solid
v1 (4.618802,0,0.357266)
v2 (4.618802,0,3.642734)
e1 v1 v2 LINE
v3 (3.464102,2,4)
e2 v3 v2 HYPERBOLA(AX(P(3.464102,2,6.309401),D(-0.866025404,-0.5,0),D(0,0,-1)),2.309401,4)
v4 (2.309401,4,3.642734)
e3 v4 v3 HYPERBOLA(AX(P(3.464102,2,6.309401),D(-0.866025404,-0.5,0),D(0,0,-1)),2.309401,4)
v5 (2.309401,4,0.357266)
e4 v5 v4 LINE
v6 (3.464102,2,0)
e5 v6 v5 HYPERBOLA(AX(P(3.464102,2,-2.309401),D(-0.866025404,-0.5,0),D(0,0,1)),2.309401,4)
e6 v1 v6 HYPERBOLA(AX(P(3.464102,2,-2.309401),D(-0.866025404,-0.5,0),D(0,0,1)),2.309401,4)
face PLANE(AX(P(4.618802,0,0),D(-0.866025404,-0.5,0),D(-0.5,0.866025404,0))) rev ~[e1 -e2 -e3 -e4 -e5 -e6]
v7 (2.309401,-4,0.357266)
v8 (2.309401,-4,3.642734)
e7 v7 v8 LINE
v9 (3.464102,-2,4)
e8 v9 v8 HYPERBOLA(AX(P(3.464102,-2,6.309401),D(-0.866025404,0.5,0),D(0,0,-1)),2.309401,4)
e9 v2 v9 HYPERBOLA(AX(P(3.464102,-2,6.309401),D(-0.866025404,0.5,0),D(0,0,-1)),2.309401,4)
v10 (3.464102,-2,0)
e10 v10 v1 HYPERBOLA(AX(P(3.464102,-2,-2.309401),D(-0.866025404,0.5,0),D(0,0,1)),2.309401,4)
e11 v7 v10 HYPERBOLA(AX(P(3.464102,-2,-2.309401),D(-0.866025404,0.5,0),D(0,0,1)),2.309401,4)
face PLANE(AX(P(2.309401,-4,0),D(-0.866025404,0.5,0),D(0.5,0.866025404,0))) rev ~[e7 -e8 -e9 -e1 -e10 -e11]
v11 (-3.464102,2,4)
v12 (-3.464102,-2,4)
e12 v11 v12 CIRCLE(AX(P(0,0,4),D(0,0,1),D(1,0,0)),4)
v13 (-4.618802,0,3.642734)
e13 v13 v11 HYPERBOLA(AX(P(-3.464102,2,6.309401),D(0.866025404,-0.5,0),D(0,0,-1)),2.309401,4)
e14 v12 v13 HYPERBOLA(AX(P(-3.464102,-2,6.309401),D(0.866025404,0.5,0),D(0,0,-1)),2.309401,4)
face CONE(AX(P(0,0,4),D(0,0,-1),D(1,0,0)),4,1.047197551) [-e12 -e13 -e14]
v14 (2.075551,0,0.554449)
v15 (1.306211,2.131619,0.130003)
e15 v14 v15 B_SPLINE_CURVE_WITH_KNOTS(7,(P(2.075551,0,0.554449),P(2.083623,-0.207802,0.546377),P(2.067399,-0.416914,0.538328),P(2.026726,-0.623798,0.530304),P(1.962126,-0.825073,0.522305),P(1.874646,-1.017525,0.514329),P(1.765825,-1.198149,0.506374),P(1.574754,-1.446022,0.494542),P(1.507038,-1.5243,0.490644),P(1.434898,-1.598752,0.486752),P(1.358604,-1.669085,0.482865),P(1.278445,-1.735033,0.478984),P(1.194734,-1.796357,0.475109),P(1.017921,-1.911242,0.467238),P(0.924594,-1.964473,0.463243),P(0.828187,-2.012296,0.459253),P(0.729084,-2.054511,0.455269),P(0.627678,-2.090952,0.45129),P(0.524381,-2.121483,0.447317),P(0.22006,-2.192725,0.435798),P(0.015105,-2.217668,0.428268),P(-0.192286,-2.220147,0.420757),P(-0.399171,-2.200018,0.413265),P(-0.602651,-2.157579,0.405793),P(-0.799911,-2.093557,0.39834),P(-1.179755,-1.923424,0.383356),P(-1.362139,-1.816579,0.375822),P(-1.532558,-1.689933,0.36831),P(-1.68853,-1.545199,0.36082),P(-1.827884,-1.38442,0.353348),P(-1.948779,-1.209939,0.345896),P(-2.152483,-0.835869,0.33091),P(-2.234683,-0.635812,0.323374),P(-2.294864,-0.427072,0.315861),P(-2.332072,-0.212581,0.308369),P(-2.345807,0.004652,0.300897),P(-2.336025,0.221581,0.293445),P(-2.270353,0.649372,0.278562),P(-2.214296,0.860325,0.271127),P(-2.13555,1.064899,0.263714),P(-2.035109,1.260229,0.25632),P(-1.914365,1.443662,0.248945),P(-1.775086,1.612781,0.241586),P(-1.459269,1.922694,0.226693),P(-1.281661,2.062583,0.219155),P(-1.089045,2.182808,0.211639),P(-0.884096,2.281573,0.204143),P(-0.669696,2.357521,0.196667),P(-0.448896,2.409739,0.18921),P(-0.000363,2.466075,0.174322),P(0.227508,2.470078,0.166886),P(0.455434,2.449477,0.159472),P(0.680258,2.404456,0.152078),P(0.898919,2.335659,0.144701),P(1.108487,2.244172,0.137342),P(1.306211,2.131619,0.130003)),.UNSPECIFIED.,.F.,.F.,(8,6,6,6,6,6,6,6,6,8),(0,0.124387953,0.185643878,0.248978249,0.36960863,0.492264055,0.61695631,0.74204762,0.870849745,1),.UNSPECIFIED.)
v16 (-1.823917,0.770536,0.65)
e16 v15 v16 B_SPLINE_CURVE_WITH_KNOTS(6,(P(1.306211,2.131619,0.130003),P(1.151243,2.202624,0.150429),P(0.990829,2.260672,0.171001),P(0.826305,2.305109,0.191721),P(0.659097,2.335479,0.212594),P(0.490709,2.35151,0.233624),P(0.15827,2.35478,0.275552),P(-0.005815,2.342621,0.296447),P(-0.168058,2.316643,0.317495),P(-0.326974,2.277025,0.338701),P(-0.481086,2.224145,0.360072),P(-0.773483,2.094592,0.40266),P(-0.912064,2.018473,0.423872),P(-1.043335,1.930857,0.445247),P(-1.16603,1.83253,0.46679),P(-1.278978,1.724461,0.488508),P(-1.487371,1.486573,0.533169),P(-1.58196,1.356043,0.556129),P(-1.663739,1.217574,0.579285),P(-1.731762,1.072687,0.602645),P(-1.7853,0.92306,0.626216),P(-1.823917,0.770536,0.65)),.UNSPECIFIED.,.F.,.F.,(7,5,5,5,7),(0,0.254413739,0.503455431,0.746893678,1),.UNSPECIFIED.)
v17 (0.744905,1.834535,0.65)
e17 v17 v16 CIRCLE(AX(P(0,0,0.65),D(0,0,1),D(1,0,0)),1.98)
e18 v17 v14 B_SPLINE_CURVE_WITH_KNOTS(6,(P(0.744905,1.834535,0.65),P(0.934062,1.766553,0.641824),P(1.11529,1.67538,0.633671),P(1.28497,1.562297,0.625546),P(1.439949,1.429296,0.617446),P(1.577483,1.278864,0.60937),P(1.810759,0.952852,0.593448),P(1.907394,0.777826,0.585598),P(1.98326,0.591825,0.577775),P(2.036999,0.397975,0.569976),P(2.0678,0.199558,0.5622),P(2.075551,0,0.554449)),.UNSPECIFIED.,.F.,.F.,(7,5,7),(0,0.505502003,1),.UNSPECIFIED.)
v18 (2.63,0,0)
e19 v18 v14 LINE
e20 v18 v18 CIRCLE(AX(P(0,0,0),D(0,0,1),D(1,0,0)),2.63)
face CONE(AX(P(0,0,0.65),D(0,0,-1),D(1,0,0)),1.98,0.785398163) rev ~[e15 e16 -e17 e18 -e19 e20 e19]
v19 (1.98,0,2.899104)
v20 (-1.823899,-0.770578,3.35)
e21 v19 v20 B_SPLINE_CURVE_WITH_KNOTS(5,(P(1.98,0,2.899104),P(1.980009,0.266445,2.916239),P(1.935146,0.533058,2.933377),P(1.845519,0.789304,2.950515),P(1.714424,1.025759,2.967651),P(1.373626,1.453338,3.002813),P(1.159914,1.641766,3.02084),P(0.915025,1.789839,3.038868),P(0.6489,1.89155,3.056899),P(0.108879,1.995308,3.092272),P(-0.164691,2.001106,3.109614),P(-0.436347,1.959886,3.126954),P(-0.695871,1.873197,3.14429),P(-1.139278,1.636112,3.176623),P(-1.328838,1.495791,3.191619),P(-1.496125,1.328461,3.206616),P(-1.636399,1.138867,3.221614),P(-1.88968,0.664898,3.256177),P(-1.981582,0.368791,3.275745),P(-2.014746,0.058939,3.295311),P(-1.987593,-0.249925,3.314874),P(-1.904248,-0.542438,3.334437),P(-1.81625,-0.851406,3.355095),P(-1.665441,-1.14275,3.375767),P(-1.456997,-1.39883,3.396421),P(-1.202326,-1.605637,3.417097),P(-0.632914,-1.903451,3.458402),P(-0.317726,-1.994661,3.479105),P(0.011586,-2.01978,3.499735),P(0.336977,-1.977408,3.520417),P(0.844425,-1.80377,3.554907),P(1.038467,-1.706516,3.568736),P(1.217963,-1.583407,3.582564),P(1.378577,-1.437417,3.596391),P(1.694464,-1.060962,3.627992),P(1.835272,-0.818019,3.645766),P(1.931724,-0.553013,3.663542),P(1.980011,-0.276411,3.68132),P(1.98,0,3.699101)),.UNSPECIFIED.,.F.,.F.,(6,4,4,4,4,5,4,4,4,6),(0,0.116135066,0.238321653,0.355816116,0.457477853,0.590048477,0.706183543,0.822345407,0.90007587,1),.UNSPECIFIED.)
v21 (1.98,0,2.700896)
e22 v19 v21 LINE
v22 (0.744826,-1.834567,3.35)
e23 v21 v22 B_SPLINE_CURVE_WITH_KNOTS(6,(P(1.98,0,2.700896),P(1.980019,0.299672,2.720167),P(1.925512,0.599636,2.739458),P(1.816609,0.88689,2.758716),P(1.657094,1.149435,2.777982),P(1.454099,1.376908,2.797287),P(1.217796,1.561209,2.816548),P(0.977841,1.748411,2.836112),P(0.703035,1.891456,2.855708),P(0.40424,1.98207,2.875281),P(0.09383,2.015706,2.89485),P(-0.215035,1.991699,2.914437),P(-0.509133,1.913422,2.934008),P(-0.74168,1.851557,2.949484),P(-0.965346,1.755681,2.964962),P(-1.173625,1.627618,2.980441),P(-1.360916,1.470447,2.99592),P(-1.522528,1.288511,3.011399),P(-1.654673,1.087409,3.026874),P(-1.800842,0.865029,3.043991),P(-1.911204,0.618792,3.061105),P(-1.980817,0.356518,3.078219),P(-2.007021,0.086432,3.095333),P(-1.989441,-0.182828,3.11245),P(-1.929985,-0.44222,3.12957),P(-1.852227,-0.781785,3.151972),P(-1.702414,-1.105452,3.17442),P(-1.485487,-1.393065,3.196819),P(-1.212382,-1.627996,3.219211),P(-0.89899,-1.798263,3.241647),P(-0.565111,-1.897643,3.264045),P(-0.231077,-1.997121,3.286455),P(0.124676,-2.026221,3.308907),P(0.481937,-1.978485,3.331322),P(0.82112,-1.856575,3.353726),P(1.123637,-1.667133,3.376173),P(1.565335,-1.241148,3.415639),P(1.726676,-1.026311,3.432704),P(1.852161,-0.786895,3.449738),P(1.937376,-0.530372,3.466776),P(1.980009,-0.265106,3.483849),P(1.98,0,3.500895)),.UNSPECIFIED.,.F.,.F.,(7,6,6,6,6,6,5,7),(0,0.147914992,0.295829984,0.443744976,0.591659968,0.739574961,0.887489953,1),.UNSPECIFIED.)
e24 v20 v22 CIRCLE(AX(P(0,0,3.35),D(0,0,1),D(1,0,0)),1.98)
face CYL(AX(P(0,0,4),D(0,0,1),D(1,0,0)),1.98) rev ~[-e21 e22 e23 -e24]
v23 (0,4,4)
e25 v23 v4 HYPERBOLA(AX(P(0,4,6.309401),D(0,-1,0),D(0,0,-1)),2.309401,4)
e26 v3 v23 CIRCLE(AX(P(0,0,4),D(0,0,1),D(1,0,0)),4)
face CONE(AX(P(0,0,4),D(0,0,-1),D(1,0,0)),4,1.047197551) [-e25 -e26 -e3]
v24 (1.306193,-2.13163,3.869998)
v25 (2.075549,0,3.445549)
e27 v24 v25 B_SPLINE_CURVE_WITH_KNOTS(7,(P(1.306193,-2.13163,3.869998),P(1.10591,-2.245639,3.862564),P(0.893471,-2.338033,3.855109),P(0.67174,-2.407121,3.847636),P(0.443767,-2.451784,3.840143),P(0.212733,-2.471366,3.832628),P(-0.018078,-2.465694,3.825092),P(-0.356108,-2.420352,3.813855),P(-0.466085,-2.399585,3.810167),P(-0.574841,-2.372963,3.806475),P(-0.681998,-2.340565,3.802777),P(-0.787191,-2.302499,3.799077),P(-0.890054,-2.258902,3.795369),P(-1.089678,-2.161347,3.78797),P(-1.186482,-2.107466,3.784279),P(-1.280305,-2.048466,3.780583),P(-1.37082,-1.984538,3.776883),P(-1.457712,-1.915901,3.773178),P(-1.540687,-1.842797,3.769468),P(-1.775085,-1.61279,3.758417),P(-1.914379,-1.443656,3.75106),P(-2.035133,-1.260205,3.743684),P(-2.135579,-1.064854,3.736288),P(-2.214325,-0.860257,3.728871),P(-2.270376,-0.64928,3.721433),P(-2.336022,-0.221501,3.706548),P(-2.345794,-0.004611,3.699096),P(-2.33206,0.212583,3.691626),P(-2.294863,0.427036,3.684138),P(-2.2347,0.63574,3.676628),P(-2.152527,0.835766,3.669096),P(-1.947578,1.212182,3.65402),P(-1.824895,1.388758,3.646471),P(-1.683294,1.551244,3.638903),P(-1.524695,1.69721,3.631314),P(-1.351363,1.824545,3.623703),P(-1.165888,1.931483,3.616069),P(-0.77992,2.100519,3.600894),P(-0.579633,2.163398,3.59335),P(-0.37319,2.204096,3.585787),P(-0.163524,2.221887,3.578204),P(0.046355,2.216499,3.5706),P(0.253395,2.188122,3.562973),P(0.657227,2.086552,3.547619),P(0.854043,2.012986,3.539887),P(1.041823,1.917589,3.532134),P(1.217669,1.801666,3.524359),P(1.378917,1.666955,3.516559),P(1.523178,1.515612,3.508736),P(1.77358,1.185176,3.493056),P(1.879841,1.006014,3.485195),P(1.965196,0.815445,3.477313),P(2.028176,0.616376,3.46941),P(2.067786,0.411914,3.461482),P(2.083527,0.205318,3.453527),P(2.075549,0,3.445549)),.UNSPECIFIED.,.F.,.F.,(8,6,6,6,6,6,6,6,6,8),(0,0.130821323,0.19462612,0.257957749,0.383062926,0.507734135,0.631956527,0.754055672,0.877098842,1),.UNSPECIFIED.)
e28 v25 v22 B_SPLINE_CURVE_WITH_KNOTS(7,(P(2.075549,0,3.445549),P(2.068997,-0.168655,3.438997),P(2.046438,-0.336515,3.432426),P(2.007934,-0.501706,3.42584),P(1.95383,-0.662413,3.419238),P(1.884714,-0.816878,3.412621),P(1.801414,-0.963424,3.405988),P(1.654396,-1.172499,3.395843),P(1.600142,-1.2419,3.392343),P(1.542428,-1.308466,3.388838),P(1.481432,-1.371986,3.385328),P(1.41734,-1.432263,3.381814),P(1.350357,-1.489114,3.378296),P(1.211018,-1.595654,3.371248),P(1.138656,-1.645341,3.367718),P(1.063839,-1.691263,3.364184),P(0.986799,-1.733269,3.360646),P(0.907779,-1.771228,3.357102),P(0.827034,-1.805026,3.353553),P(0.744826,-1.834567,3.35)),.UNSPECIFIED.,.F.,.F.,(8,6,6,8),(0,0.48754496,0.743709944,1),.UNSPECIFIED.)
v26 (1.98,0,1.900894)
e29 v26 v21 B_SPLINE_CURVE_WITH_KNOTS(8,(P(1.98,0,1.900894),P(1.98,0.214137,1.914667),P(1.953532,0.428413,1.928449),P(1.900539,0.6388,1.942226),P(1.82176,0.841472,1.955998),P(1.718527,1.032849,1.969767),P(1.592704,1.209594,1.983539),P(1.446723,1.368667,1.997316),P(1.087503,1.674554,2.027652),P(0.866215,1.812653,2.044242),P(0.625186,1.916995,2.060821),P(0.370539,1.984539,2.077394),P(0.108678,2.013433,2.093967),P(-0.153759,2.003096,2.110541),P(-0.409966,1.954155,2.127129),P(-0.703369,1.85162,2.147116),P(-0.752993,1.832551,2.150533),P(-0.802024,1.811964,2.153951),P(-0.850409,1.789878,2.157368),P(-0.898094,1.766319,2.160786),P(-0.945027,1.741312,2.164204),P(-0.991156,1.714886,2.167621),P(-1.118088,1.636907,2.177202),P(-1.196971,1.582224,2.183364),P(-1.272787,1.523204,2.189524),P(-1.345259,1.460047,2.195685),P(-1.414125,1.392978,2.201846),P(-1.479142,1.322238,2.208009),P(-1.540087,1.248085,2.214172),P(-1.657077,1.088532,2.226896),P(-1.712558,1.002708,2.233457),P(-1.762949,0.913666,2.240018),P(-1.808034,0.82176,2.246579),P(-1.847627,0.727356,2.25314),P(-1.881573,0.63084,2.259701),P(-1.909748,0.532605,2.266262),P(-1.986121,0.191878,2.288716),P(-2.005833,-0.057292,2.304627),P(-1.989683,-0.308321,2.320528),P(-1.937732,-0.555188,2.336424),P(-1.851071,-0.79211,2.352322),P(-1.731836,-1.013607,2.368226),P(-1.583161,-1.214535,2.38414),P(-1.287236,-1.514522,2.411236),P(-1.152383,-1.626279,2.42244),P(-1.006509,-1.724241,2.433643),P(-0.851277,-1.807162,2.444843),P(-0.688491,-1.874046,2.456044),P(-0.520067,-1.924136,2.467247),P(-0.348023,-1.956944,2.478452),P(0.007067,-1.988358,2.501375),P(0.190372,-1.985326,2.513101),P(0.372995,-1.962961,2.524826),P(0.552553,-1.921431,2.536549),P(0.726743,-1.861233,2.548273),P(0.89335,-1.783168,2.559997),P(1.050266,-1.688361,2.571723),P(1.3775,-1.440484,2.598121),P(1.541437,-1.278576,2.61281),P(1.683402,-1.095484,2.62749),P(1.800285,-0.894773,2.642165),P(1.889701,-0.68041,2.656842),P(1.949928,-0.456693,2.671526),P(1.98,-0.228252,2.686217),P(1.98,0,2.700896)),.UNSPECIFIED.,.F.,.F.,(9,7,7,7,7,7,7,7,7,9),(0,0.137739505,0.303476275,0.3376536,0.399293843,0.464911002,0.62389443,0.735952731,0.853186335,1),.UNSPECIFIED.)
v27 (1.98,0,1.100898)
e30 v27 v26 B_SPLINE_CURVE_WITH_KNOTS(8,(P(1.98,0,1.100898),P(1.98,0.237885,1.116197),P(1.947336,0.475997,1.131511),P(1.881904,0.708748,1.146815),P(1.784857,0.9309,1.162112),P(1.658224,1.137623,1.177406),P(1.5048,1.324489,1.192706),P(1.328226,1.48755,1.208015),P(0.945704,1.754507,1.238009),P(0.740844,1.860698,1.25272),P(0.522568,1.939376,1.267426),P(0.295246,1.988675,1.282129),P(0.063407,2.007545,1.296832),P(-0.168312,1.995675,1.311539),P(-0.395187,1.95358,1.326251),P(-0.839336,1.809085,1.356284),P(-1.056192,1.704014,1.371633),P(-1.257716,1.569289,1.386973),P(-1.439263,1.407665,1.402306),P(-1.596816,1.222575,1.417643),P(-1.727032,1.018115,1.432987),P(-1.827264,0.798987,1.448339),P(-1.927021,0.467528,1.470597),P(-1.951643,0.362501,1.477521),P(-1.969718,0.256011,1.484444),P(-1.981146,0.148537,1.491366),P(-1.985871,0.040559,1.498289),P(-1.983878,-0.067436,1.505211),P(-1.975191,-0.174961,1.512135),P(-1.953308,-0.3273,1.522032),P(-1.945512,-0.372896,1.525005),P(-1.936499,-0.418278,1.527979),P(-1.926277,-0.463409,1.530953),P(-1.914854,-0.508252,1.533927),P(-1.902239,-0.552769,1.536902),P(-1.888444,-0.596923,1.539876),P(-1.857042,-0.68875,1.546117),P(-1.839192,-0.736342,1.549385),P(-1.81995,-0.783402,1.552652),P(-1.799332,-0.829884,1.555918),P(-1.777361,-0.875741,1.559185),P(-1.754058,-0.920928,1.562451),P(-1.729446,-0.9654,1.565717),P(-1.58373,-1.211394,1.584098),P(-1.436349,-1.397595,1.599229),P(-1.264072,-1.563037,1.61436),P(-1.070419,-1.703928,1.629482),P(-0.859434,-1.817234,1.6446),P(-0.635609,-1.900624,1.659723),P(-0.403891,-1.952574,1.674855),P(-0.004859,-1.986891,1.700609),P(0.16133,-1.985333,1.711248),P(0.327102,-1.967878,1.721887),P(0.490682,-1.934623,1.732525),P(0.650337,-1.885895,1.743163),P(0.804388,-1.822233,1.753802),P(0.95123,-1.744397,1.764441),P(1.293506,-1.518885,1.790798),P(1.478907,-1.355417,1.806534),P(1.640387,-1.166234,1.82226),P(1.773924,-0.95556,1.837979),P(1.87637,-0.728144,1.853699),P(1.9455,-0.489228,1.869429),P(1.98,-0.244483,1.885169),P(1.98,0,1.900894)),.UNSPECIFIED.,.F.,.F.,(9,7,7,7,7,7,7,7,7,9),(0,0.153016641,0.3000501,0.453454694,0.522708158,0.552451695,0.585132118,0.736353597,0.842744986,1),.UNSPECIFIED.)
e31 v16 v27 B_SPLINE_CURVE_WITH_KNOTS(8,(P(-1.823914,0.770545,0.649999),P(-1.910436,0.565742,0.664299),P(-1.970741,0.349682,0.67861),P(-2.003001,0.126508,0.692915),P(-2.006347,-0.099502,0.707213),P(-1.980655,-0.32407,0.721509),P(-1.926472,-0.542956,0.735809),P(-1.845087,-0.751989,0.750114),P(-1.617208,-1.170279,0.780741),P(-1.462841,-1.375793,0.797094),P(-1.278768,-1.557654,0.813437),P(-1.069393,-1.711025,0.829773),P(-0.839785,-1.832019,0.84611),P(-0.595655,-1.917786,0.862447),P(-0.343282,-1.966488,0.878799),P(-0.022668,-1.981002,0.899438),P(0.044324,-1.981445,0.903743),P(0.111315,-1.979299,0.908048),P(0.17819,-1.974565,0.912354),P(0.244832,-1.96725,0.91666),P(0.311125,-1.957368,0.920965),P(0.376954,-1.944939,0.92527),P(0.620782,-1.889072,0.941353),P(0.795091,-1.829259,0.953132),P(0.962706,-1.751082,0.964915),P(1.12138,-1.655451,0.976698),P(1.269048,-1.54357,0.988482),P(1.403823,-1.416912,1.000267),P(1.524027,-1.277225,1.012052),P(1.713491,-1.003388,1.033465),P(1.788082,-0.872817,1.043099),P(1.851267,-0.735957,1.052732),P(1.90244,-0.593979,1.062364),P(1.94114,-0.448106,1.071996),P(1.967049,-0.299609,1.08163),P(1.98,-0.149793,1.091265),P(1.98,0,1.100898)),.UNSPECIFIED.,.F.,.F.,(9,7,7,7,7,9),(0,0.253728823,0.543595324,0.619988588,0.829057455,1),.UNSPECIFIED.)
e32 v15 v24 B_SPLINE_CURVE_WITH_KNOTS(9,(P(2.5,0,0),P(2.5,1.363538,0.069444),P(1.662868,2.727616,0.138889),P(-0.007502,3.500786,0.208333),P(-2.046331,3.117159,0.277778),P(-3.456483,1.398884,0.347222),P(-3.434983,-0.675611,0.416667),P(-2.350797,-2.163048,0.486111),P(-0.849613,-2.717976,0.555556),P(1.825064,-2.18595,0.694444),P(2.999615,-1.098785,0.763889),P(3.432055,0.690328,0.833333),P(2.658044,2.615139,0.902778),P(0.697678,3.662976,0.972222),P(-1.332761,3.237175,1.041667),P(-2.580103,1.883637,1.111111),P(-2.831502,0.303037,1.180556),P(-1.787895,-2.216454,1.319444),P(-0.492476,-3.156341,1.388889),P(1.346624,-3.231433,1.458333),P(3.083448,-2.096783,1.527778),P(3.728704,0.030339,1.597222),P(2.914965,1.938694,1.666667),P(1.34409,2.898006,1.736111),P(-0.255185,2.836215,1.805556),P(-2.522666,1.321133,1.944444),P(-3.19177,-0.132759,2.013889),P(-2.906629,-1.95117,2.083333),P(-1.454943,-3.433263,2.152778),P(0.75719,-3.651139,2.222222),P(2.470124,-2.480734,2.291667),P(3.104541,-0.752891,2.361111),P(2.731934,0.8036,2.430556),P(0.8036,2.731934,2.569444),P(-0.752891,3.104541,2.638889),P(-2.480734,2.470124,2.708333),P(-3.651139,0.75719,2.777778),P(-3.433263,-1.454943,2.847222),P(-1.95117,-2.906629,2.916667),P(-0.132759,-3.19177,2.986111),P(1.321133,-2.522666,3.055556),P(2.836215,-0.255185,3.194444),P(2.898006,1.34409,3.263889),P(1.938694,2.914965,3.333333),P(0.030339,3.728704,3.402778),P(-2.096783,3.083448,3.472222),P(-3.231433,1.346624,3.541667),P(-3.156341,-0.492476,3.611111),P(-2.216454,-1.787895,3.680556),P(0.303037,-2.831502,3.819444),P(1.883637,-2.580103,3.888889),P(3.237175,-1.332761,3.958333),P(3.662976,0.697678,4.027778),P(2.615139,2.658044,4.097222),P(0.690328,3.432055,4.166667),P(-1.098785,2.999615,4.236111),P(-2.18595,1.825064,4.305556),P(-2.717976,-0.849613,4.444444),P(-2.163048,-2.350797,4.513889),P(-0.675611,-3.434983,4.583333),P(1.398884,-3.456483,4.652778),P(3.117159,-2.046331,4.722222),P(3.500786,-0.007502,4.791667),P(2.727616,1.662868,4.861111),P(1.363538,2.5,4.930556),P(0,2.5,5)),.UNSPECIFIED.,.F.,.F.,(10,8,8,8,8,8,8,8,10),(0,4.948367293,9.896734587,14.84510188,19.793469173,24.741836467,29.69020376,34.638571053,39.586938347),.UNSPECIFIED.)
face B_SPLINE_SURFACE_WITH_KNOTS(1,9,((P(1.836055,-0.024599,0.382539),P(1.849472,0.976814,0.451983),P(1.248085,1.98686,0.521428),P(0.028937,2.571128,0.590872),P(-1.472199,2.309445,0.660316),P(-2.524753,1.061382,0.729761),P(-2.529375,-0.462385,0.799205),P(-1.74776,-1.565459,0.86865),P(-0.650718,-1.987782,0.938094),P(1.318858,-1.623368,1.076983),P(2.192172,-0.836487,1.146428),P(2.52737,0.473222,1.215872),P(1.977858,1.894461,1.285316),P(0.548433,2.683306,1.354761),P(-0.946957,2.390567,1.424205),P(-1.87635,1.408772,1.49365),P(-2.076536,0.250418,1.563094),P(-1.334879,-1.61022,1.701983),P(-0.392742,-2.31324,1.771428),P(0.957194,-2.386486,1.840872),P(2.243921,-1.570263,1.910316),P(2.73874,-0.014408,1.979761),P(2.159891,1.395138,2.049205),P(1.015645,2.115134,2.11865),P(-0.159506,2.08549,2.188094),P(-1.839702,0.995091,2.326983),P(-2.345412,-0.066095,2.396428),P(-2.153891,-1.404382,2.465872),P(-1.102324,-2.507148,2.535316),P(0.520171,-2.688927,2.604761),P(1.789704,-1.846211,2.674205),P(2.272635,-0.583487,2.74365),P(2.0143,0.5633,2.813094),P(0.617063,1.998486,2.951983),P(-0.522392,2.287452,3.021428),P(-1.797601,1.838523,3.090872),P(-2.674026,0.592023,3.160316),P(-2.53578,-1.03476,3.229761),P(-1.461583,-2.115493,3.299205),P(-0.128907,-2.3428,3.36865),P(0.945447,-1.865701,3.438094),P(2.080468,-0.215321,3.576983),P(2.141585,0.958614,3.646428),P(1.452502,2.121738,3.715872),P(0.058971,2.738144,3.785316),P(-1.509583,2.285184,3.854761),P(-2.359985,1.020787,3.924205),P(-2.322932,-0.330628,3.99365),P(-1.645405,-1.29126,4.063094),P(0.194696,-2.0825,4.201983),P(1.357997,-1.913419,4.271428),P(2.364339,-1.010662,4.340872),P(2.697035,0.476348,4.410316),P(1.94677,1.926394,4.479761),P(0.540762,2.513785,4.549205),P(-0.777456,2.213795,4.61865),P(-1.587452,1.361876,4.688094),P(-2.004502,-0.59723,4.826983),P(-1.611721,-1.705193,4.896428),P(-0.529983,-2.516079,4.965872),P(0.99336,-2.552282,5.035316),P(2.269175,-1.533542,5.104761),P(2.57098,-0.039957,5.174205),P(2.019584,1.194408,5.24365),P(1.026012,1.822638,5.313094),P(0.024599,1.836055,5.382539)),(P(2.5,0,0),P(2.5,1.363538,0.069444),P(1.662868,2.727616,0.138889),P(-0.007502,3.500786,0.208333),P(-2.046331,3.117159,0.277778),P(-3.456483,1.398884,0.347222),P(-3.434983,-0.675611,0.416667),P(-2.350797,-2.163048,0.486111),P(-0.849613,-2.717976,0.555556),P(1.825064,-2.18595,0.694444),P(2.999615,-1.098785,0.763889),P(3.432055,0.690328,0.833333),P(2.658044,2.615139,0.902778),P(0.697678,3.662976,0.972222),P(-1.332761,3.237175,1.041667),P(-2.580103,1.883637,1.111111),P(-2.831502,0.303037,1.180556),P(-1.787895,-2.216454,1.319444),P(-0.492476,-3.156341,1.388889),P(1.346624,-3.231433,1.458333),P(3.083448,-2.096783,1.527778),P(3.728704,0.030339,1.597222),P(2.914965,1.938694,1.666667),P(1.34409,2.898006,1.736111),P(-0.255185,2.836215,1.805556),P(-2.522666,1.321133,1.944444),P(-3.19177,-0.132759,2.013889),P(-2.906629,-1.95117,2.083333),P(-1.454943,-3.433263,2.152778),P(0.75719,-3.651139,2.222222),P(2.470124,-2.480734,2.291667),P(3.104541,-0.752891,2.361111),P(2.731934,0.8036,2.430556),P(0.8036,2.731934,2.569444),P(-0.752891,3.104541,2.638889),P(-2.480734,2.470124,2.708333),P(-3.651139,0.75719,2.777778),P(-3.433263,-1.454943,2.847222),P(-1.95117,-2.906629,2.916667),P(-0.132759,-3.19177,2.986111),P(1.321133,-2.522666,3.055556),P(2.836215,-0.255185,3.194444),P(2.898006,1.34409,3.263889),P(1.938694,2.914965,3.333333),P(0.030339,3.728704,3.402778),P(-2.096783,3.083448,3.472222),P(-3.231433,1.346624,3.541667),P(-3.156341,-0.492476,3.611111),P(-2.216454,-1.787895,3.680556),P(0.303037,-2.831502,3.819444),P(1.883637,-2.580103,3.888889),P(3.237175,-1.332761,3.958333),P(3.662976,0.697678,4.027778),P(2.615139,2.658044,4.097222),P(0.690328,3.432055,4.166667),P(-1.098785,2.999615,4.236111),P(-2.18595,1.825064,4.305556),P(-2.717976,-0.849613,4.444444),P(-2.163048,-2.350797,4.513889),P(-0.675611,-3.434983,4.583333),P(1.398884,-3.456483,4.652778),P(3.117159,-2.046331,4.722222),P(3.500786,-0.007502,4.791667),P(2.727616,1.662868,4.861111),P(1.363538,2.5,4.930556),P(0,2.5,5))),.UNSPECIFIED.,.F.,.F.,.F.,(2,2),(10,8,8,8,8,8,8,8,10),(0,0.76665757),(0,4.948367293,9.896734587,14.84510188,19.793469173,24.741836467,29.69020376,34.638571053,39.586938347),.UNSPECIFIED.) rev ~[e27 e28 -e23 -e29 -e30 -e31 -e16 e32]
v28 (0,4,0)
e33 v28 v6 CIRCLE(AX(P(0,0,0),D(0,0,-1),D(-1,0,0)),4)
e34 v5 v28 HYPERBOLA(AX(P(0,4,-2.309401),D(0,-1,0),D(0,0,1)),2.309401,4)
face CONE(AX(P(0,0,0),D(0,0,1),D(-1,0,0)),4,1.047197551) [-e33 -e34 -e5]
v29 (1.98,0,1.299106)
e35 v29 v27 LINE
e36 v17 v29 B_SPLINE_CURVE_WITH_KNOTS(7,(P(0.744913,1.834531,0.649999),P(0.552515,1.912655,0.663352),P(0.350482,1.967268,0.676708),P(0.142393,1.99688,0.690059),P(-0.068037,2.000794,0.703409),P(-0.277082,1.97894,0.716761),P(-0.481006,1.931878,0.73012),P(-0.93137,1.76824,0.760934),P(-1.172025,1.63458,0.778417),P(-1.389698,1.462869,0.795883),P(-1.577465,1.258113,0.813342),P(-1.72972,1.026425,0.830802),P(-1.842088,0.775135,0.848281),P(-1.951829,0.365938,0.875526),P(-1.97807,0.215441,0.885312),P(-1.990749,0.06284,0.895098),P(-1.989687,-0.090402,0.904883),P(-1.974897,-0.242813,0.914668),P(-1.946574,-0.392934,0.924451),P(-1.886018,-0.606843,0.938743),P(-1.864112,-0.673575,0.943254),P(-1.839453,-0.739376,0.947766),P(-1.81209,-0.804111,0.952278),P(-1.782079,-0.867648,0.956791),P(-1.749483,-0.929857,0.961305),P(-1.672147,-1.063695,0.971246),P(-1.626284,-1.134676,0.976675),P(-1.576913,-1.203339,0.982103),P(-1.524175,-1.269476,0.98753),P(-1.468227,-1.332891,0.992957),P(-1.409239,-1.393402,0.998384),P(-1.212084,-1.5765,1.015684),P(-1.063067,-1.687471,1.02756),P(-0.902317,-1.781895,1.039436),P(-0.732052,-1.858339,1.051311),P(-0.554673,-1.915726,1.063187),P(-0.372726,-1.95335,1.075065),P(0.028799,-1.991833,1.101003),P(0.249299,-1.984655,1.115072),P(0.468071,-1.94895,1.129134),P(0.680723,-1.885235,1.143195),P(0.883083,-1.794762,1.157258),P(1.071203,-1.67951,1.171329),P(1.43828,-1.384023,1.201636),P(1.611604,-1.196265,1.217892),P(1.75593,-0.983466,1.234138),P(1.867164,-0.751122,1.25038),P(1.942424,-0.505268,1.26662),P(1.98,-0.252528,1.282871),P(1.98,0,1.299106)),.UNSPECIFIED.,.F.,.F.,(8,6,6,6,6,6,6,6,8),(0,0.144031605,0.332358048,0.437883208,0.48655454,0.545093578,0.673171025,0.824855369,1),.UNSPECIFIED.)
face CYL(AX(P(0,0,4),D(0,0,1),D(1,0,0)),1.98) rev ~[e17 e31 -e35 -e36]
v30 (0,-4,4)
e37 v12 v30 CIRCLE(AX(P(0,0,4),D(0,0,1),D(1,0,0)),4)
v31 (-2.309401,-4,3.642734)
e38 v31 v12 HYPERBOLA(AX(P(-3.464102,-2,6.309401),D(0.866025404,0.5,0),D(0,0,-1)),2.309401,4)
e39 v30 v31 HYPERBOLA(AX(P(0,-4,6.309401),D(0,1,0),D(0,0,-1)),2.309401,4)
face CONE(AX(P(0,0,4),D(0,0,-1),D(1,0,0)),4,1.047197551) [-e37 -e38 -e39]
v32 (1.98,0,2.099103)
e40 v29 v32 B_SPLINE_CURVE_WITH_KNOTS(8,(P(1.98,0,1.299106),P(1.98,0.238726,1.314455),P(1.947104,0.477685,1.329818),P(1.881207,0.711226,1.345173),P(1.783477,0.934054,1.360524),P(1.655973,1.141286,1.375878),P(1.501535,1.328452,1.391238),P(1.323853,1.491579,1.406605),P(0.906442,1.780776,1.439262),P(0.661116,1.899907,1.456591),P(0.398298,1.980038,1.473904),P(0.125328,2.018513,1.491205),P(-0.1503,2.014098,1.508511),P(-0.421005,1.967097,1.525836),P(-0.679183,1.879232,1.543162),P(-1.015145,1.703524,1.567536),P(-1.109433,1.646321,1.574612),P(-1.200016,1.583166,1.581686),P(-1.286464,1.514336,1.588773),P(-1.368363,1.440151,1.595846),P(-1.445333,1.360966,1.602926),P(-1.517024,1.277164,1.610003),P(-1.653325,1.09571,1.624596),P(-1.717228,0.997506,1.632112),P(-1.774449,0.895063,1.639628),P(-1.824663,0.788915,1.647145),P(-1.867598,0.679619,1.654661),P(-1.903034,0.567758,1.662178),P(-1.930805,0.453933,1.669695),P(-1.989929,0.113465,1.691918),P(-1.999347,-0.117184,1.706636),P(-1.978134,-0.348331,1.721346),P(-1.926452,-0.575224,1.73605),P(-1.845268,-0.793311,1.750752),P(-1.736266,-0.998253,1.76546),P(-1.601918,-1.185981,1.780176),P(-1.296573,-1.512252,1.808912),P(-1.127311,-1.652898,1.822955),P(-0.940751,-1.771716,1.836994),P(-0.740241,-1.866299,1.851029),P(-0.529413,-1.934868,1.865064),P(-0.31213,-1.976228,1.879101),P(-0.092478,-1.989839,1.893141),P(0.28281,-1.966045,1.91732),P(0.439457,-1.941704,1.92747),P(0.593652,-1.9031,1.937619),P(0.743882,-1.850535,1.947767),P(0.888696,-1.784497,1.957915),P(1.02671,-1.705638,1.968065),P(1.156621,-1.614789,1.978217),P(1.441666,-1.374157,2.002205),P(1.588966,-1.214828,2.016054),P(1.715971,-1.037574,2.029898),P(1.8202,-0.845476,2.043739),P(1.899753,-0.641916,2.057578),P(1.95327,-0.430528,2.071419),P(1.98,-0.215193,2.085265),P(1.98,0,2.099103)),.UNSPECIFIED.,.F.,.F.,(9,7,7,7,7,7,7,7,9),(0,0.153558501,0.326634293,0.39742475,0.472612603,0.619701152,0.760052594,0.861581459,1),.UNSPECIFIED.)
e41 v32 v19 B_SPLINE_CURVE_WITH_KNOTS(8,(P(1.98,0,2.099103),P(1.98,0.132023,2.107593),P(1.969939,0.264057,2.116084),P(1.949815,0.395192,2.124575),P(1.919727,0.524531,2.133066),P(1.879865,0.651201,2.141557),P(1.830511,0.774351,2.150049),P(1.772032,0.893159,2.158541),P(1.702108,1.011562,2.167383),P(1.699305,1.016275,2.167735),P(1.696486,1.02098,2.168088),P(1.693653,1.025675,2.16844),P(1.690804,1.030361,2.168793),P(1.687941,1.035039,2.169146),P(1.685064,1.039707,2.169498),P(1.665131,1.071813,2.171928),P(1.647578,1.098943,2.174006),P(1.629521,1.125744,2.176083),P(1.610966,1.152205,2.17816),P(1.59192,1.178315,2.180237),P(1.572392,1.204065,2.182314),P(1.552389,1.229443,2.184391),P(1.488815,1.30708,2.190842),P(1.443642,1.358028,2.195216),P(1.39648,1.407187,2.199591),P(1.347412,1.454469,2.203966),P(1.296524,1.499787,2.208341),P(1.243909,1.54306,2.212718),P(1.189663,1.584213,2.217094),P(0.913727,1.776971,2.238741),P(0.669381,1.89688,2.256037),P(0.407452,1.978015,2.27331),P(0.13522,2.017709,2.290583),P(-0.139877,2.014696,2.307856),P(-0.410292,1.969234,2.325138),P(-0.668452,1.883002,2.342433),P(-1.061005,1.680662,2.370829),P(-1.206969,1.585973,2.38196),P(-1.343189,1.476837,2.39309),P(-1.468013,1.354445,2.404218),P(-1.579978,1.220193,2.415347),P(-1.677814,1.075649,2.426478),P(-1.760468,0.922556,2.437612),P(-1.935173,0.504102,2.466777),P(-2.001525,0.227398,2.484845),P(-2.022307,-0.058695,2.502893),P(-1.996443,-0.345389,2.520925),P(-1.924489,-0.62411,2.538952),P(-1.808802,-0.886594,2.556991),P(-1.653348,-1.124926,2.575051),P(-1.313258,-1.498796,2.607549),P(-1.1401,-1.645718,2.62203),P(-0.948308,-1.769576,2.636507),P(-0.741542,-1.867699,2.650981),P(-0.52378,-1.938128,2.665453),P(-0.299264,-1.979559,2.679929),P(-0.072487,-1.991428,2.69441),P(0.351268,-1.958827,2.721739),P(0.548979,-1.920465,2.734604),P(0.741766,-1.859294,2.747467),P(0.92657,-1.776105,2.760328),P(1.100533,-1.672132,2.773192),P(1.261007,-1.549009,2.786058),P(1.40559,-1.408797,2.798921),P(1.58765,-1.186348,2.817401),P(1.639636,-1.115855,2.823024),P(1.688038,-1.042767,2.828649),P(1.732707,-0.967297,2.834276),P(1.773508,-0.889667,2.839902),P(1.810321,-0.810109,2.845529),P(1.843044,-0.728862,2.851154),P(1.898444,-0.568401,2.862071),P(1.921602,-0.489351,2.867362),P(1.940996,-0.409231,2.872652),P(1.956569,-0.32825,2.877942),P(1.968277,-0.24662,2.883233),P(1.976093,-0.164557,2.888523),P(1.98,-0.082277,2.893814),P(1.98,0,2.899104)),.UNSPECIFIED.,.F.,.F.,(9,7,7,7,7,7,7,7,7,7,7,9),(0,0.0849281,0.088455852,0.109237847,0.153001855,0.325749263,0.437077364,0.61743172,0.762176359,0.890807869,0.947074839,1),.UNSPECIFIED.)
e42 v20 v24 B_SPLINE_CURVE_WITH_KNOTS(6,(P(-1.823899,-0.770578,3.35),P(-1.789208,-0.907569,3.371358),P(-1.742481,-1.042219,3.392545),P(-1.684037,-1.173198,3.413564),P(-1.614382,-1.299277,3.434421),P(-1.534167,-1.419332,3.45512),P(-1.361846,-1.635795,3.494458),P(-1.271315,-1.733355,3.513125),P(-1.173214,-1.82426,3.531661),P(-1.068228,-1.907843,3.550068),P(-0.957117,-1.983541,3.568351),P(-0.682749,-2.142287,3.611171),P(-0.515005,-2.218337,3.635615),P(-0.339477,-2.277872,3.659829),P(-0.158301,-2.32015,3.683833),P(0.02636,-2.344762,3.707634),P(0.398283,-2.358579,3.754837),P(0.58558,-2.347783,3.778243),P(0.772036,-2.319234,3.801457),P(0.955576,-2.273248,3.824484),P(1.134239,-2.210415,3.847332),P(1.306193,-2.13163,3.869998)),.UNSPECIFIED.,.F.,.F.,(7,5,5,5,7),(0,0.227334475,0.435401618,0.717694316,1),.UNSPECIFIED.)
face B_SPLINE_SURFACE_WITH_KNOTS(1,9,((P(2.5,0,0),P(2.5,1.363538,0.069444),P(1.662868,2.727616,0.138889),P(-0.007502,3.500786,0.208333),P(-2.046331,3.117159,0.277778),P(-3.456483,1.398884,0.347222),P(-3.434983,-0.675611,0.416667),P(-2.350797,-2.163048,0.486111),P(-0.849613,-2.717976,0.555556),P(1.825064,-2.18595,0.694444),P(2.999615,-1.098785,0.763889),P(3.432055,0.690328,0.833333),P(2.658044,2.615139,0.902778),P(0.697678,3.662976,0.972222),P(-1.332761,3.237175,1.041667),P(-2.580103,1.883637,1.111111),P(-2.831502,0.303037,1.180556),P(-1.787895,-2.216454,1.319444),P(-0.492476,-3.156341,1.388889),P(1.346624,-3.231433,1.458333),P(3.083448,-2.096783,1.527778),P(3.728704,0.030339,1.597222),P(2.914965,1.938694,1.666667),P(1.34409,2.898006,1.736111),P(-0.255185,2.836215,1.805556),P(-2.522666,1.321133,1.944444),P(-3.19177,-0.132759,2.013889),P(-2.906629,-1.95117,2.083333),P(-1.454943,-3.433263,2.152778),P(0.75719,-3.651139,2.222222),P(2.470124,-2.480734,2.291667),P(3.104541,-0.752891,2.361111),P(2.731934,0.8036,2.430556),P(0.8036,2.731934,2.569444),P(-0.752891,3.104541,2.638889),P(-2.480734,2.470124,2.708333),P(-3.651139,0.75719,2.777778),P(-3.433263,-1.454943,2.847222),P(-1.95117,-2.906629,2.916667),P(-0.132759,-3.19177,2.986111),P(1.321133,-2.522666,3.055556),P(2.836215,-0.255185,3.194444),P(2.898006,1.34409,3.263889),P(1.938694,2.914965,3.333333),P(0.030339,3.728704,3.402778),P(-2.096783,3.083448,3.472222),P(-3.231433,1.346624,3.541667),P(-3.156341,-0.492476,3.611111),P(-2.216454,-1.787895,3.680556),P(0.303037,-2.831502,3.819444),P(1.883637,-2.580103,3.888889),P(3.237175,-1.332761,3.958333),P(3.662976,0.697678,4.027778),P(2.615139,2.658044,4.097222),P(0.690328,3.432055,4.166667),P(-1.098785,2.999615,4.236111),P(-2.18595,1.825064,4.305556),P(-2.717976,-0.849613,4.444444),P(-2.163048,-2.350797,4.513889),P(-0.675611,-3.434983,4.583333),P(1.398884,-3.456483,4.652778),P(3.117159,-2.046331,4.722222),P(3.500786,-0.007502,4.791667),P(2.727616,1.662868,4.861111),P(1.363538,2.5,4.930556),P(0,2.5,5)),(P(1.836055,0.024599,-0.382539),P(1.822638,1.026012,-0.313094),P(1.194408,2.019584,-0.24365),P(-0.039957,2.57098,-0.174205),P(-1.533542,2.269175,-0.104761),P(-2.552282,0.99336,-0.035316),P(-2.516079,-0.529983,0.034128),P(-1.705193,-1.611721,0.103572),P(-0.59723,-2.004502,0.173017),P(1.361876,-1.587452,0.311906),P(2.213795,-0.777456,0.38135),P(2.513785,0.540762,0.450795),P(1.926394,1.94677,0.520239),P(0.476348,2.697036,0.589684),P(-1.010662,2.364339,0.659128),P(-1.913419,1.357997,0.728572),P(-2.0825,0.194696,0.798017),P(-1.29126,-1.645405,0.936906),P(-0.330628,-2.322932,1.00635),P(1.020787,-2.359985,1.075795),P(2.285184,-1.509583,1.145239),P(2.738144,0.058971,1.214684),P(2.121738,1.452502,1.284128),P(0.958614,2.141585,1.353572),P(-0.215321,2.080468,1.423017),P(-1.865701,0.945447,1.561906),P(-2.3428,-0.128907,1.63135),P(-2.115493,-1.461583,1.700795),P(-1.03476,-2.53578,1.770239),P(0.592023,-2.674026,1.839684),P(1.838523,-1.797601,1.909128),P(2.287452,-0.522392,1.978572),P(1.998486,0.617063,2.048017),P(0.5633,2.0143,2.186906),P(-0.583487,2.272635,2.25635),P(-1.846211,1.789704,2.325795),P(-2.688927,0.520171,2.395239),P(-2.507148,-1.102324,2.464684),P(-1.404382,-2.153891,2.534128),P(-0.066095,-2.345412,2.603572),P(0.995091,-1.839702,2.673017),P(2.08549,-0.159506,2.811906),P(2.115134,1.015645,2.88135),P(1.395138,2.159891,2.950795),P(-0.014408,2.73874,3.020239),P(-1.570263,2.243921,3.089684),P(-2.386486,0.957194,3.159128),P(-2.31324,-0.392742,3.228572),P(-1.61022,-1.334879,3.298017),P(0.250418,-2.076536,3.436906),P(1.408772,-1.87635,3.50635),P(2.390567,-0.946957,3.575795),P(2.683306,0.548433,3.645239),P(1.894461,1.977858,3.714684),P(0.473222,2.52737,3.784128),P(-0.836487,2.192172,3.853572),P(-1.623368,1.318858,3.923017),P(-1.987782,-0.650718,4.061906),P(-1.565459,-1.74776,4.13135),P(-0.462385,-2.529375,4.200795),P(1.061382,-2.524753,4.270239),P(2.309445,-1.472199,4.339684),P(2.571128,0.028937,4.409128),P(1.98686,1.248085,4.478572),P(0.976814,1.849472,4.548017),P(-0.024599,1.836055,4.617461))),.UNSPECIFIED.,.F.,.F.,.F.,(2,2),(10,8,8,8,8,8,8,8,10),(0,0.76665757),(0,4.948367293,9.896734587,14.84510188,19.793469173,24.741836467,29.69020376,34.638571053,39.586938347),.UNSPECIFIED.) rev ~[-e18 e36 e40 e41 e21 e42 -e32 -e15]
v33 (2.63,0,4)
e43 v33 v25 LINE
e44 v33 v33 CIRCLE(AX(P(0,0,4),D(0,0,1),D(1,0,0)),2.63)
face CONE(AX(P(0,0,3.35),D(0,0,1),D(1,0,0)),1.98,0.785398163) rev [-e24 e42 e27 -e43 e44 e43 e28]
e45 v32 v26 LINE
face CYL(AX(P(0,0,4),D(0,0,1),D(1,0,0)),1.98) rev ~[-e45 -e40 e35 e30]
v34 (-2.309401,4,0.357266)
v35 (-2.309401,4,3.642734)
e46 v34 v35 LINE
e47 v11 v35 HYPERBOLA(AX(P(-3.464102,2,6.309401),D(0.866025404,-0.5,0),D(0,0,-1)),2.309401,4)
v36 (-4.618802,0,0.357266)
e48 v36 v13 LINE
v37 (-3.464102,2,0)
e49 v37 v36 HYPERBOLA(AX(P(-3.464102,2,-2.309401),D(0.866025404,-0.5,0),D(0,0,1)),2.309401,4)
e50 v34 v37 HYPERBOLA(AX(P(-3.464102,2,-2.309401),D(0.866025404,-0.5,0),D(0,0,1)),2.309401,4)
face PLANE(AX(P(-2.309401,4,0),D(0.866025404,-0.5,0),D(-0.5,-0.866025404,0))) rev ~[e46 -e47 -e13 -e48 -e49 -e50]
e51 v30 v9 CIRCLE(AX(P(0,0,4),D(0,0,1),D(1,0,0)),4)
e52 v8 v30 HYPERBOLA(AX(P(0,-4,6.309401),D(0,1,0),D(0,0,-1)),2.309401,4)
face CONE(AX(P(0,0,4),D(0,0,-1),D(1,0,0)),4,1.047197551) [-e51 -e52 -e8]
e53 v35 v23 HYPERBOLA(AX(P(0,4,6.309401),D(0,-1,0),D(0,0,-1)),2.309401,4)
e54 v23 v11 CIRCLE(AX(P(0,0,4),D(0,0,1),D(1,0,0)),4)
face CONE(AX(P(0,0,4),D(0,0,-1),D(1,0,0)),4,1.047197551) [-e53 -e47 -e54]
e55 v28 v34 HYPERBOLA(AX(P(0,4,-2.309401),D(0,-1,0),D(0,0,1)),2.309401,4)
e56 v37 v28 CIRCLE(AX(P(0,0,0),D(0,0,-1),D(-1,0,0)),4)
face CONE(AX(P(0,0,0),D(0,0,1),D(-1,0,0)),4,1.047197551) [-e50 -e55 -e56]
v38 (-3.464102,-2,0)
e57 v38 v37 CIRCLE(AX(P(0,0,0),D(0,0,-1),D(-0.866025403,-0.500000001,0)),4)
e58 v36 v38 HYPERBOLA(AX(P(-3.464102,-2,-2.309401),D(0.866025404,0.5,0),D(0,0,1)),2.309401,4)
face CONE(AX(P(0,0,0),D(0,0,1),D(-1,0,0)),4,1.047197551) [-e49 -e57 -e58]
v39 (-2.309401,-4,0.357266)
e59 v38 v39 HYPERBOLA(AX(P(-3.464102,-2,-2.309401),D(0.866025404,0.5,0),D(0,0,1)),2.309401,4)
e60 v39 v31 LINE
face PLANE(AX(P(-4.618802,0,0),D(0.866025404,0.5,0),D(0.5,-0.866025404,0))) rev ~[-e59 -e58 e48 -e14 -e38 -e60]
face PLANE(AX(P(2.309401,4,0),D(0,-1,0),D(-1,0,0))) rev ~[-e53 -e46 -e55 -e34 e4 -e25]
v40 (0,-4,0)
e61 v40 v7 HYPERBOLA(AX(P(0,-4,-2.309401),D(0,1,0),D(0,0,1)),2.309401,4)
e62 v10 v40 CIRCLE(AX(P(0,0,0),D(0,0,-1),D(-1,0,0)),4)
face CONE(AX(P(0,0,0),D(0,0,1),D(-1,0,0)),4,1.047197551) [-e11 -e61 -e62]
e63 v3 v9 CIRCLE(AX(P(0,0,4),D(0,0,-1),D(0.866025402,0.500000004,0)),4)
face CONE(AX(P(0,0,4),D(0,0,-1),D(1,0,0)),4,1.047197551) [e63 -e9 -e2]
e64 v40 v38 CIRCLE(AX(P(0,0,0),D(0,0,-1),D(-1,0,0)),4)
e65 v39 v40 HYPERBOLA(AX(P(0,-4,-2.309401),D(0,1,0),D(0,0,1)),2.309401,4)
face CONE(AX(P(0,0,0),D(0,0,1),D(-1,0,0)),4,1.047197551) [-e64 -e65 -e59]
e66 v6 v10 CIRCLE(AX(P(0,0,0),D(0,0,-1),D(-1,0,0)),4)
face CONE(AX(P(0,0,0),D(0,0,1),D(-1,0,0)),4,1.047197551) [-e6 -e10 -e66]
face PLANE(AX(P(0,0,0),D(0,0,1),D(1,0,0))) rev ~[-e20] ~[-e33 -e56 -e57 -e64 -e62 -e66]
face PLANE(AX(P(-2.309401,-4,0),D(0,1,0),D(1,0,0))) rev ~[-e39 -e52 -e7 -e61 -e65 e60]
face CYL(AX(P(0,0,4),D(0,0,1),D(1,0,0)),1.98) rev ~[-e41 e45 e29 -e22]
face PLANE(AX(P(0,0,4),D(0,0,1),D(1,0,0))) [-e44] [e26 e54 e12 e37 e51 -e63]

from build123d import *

# Parameters (mm, degrees)
Y_KSEKLIK_EKSTR_ZYON1_DEPTH = 4
IZIM2_OUTSIDE_W             = 27.666
IZIM2_OUTSIDE_H             = 26.428
IZIM2_OUTSIDE_R             = 4
KES_EKSTR_ZYON1_DEPTH       = 4
KES_EKSTR_ZYON1_DRAFT       = -60
IZIM3_OUTSIDE_W             = 27.666
IZIM3_OUTSIDE_H             = 26.428
IZIM3_OUTSIDE_R             = 4
KES_EKSTR_ZYON2_DEPTH       = 4
KES_EKSTR_ZYON2_DRAFT       = -60
IZIM4_R                     = 1.98
KES_EKSTR_ZYON3_DEPTH       = 4
PAH1_SIZE                   = 0.65
KES_S_P_R1_PITCH            = 0.8
KES_S_P_R1_HEIGHT           = 5
KES_S_P_R1_RADIUS           = 1.98


with BuildPart() as part:
    # Çizim1 → Yükseklik-Ekstrüzyon1 (new body)
    with BuildSketch(Plane.XY):
        Polygon((4.618802154, 0), (2.309401077, 4), (-2.309401077, 4), (-4.618802154, 0), (-2.309401077, -4), (2.309401077, -4), align=None)
    extrude(amount=Y_KSEKLIK_EKSTR_ZYON1_DEPTH)


with BuildPart() as kes_ekstr_zyon1_tool:
    # Çizim2 outside → Kes-Ekstrüzyon1 (with draft: the straight prism first)
    with BuildSketch(Plane.XY.offset(4)):
        Rectangle(IZIM2_OUTSIDE_W, IZIM2_OUTSIDE_H)
        Circle(IZIM2_OUTSIDE_R, mode=Mode.SUBTRACT)
    extrude(amount=-KES_EKSTR_ZYON1_DEPTH)
    # Kes-Ekstrüzyon1: the draft: its side faces are tilted about the plane it starts from
    kes_ekstr_zyon1_sides = [kes_ekstr_zyon1_tool.faces().sort_by_distance(p)[0] for p in [
        (0, -13.214, 2),
        (13.833, 0, 2),
        (0, 13.214, 2),
        (-13.833, 0, 2),
        (-4, 0, 2),
    ]]
    draft(kes_ekstr_zyon1_sides, Plane.XY.offset(4), KES_EKSTR_ZYON1_DRAFT)


with BuildPart() as part_1:
    add(part.part)

    # Kes-Ekstrüzyon1: cut by kes_ekstr_zyon1_tool
    add(kes_ekstr_zyon1_tool.part, mode=Mode.SUBTRACT)


with BuildPart() as kes_ekstr_zyon2_tool:
    # Çizim3 outside → Kes-Ekstrüzyon2 (with draft: the straight prism first)
    with BuildSketch(Plane(origin=(0, 0, 0), x_dir=(-1, 0, 0), z_dir=(0, 0, -1))):
        Rectangle(IZIM3_OUTSIDE_W, IZIM3_OUTSIDE_H)
        Circle(IZIM3_OUTSIDE_R, mode=Mode.SUBTRACT)
    extrude(amount=-KES_EKSTR_ZYON2_DEPTH)
    # Kes-Ekstrüzyon2: the draft: its side faces are tilted about the plane it starts from
    kes_ekstr_zyon2_sides = [kes_ekstr_zyon2_tool.faces().sort_by_distance(p)[0] for p in [
        (0, -13.214, 2),
        (-13.833, 0, 2),
        (0, 13.214, 2),
        (13.833, 0, 2),
        (4, 0, 2),
    ]]
    draft(kes_ekstr_zyon2_sides, Plane(origin=(0, 0, 0), x_dir=(-1, 0, 0), z_dir=(0, 0, -1)), KES_EKSTR_ZYON2_DRAFT)


with BuildPart() as part_2:
    add(part_1.part)

    # Kes-Ekstrüzyon2: cut by kes_ekstr_zyon2_tool
    add(kes_ekstr_zyon2_tool.part, mode=Mode.SUBTRACT)

    # Çizim4 → Kes-Ekstrüzyon3 (cut)
    with BuildSketch(Plane.XY.offset(4)):
        Circle(IZIM4_R)
    extrude(amount=-KES_EKSTR_ZYON3_DEPTH, mode=Mode.SUBTRACT)

    # Pah1
    pah1_edges = [part_2.edges().sort_by_distance(p)[0] for p in [
        (-1.98, 0, 0),
        (-1.98, 0, 4),
    ]]
    chamfer(pah1_edges, length=PAH1_SIZE)

    # Kes-Süpür1: sweep along a helix
    with BuildLine() as kes_s_p_r1_path:
        Helix(KES_S_P_R1_PITCH, KES_S_P_R1_HEIGHT, KES_S_P_R1_RADIUS, center=(0, 0, 0), direction=(0, 0, 1))
    # Çizim6 → Kes-Süpür1 (sweep, cut)
    with BuildSketch(Plane(origin=(0, 1.98, 5), x_dir=(0.06417248340128018, 5.079204879135305e-15, 0.9979388219595992), z_dir=(-0.9979388219595992, -7.898612403512853e-14, 0.06417248340128018))):
        Polygon((0, 0.52), (-0.383328785, -0.143944932), (0.383328785, -0.143944932), align=None)
    sweep(path=kes_s_p_r1_path.line, is_frenet=True, mode=Mode.SUBTRACT)


solid = part_2.part
